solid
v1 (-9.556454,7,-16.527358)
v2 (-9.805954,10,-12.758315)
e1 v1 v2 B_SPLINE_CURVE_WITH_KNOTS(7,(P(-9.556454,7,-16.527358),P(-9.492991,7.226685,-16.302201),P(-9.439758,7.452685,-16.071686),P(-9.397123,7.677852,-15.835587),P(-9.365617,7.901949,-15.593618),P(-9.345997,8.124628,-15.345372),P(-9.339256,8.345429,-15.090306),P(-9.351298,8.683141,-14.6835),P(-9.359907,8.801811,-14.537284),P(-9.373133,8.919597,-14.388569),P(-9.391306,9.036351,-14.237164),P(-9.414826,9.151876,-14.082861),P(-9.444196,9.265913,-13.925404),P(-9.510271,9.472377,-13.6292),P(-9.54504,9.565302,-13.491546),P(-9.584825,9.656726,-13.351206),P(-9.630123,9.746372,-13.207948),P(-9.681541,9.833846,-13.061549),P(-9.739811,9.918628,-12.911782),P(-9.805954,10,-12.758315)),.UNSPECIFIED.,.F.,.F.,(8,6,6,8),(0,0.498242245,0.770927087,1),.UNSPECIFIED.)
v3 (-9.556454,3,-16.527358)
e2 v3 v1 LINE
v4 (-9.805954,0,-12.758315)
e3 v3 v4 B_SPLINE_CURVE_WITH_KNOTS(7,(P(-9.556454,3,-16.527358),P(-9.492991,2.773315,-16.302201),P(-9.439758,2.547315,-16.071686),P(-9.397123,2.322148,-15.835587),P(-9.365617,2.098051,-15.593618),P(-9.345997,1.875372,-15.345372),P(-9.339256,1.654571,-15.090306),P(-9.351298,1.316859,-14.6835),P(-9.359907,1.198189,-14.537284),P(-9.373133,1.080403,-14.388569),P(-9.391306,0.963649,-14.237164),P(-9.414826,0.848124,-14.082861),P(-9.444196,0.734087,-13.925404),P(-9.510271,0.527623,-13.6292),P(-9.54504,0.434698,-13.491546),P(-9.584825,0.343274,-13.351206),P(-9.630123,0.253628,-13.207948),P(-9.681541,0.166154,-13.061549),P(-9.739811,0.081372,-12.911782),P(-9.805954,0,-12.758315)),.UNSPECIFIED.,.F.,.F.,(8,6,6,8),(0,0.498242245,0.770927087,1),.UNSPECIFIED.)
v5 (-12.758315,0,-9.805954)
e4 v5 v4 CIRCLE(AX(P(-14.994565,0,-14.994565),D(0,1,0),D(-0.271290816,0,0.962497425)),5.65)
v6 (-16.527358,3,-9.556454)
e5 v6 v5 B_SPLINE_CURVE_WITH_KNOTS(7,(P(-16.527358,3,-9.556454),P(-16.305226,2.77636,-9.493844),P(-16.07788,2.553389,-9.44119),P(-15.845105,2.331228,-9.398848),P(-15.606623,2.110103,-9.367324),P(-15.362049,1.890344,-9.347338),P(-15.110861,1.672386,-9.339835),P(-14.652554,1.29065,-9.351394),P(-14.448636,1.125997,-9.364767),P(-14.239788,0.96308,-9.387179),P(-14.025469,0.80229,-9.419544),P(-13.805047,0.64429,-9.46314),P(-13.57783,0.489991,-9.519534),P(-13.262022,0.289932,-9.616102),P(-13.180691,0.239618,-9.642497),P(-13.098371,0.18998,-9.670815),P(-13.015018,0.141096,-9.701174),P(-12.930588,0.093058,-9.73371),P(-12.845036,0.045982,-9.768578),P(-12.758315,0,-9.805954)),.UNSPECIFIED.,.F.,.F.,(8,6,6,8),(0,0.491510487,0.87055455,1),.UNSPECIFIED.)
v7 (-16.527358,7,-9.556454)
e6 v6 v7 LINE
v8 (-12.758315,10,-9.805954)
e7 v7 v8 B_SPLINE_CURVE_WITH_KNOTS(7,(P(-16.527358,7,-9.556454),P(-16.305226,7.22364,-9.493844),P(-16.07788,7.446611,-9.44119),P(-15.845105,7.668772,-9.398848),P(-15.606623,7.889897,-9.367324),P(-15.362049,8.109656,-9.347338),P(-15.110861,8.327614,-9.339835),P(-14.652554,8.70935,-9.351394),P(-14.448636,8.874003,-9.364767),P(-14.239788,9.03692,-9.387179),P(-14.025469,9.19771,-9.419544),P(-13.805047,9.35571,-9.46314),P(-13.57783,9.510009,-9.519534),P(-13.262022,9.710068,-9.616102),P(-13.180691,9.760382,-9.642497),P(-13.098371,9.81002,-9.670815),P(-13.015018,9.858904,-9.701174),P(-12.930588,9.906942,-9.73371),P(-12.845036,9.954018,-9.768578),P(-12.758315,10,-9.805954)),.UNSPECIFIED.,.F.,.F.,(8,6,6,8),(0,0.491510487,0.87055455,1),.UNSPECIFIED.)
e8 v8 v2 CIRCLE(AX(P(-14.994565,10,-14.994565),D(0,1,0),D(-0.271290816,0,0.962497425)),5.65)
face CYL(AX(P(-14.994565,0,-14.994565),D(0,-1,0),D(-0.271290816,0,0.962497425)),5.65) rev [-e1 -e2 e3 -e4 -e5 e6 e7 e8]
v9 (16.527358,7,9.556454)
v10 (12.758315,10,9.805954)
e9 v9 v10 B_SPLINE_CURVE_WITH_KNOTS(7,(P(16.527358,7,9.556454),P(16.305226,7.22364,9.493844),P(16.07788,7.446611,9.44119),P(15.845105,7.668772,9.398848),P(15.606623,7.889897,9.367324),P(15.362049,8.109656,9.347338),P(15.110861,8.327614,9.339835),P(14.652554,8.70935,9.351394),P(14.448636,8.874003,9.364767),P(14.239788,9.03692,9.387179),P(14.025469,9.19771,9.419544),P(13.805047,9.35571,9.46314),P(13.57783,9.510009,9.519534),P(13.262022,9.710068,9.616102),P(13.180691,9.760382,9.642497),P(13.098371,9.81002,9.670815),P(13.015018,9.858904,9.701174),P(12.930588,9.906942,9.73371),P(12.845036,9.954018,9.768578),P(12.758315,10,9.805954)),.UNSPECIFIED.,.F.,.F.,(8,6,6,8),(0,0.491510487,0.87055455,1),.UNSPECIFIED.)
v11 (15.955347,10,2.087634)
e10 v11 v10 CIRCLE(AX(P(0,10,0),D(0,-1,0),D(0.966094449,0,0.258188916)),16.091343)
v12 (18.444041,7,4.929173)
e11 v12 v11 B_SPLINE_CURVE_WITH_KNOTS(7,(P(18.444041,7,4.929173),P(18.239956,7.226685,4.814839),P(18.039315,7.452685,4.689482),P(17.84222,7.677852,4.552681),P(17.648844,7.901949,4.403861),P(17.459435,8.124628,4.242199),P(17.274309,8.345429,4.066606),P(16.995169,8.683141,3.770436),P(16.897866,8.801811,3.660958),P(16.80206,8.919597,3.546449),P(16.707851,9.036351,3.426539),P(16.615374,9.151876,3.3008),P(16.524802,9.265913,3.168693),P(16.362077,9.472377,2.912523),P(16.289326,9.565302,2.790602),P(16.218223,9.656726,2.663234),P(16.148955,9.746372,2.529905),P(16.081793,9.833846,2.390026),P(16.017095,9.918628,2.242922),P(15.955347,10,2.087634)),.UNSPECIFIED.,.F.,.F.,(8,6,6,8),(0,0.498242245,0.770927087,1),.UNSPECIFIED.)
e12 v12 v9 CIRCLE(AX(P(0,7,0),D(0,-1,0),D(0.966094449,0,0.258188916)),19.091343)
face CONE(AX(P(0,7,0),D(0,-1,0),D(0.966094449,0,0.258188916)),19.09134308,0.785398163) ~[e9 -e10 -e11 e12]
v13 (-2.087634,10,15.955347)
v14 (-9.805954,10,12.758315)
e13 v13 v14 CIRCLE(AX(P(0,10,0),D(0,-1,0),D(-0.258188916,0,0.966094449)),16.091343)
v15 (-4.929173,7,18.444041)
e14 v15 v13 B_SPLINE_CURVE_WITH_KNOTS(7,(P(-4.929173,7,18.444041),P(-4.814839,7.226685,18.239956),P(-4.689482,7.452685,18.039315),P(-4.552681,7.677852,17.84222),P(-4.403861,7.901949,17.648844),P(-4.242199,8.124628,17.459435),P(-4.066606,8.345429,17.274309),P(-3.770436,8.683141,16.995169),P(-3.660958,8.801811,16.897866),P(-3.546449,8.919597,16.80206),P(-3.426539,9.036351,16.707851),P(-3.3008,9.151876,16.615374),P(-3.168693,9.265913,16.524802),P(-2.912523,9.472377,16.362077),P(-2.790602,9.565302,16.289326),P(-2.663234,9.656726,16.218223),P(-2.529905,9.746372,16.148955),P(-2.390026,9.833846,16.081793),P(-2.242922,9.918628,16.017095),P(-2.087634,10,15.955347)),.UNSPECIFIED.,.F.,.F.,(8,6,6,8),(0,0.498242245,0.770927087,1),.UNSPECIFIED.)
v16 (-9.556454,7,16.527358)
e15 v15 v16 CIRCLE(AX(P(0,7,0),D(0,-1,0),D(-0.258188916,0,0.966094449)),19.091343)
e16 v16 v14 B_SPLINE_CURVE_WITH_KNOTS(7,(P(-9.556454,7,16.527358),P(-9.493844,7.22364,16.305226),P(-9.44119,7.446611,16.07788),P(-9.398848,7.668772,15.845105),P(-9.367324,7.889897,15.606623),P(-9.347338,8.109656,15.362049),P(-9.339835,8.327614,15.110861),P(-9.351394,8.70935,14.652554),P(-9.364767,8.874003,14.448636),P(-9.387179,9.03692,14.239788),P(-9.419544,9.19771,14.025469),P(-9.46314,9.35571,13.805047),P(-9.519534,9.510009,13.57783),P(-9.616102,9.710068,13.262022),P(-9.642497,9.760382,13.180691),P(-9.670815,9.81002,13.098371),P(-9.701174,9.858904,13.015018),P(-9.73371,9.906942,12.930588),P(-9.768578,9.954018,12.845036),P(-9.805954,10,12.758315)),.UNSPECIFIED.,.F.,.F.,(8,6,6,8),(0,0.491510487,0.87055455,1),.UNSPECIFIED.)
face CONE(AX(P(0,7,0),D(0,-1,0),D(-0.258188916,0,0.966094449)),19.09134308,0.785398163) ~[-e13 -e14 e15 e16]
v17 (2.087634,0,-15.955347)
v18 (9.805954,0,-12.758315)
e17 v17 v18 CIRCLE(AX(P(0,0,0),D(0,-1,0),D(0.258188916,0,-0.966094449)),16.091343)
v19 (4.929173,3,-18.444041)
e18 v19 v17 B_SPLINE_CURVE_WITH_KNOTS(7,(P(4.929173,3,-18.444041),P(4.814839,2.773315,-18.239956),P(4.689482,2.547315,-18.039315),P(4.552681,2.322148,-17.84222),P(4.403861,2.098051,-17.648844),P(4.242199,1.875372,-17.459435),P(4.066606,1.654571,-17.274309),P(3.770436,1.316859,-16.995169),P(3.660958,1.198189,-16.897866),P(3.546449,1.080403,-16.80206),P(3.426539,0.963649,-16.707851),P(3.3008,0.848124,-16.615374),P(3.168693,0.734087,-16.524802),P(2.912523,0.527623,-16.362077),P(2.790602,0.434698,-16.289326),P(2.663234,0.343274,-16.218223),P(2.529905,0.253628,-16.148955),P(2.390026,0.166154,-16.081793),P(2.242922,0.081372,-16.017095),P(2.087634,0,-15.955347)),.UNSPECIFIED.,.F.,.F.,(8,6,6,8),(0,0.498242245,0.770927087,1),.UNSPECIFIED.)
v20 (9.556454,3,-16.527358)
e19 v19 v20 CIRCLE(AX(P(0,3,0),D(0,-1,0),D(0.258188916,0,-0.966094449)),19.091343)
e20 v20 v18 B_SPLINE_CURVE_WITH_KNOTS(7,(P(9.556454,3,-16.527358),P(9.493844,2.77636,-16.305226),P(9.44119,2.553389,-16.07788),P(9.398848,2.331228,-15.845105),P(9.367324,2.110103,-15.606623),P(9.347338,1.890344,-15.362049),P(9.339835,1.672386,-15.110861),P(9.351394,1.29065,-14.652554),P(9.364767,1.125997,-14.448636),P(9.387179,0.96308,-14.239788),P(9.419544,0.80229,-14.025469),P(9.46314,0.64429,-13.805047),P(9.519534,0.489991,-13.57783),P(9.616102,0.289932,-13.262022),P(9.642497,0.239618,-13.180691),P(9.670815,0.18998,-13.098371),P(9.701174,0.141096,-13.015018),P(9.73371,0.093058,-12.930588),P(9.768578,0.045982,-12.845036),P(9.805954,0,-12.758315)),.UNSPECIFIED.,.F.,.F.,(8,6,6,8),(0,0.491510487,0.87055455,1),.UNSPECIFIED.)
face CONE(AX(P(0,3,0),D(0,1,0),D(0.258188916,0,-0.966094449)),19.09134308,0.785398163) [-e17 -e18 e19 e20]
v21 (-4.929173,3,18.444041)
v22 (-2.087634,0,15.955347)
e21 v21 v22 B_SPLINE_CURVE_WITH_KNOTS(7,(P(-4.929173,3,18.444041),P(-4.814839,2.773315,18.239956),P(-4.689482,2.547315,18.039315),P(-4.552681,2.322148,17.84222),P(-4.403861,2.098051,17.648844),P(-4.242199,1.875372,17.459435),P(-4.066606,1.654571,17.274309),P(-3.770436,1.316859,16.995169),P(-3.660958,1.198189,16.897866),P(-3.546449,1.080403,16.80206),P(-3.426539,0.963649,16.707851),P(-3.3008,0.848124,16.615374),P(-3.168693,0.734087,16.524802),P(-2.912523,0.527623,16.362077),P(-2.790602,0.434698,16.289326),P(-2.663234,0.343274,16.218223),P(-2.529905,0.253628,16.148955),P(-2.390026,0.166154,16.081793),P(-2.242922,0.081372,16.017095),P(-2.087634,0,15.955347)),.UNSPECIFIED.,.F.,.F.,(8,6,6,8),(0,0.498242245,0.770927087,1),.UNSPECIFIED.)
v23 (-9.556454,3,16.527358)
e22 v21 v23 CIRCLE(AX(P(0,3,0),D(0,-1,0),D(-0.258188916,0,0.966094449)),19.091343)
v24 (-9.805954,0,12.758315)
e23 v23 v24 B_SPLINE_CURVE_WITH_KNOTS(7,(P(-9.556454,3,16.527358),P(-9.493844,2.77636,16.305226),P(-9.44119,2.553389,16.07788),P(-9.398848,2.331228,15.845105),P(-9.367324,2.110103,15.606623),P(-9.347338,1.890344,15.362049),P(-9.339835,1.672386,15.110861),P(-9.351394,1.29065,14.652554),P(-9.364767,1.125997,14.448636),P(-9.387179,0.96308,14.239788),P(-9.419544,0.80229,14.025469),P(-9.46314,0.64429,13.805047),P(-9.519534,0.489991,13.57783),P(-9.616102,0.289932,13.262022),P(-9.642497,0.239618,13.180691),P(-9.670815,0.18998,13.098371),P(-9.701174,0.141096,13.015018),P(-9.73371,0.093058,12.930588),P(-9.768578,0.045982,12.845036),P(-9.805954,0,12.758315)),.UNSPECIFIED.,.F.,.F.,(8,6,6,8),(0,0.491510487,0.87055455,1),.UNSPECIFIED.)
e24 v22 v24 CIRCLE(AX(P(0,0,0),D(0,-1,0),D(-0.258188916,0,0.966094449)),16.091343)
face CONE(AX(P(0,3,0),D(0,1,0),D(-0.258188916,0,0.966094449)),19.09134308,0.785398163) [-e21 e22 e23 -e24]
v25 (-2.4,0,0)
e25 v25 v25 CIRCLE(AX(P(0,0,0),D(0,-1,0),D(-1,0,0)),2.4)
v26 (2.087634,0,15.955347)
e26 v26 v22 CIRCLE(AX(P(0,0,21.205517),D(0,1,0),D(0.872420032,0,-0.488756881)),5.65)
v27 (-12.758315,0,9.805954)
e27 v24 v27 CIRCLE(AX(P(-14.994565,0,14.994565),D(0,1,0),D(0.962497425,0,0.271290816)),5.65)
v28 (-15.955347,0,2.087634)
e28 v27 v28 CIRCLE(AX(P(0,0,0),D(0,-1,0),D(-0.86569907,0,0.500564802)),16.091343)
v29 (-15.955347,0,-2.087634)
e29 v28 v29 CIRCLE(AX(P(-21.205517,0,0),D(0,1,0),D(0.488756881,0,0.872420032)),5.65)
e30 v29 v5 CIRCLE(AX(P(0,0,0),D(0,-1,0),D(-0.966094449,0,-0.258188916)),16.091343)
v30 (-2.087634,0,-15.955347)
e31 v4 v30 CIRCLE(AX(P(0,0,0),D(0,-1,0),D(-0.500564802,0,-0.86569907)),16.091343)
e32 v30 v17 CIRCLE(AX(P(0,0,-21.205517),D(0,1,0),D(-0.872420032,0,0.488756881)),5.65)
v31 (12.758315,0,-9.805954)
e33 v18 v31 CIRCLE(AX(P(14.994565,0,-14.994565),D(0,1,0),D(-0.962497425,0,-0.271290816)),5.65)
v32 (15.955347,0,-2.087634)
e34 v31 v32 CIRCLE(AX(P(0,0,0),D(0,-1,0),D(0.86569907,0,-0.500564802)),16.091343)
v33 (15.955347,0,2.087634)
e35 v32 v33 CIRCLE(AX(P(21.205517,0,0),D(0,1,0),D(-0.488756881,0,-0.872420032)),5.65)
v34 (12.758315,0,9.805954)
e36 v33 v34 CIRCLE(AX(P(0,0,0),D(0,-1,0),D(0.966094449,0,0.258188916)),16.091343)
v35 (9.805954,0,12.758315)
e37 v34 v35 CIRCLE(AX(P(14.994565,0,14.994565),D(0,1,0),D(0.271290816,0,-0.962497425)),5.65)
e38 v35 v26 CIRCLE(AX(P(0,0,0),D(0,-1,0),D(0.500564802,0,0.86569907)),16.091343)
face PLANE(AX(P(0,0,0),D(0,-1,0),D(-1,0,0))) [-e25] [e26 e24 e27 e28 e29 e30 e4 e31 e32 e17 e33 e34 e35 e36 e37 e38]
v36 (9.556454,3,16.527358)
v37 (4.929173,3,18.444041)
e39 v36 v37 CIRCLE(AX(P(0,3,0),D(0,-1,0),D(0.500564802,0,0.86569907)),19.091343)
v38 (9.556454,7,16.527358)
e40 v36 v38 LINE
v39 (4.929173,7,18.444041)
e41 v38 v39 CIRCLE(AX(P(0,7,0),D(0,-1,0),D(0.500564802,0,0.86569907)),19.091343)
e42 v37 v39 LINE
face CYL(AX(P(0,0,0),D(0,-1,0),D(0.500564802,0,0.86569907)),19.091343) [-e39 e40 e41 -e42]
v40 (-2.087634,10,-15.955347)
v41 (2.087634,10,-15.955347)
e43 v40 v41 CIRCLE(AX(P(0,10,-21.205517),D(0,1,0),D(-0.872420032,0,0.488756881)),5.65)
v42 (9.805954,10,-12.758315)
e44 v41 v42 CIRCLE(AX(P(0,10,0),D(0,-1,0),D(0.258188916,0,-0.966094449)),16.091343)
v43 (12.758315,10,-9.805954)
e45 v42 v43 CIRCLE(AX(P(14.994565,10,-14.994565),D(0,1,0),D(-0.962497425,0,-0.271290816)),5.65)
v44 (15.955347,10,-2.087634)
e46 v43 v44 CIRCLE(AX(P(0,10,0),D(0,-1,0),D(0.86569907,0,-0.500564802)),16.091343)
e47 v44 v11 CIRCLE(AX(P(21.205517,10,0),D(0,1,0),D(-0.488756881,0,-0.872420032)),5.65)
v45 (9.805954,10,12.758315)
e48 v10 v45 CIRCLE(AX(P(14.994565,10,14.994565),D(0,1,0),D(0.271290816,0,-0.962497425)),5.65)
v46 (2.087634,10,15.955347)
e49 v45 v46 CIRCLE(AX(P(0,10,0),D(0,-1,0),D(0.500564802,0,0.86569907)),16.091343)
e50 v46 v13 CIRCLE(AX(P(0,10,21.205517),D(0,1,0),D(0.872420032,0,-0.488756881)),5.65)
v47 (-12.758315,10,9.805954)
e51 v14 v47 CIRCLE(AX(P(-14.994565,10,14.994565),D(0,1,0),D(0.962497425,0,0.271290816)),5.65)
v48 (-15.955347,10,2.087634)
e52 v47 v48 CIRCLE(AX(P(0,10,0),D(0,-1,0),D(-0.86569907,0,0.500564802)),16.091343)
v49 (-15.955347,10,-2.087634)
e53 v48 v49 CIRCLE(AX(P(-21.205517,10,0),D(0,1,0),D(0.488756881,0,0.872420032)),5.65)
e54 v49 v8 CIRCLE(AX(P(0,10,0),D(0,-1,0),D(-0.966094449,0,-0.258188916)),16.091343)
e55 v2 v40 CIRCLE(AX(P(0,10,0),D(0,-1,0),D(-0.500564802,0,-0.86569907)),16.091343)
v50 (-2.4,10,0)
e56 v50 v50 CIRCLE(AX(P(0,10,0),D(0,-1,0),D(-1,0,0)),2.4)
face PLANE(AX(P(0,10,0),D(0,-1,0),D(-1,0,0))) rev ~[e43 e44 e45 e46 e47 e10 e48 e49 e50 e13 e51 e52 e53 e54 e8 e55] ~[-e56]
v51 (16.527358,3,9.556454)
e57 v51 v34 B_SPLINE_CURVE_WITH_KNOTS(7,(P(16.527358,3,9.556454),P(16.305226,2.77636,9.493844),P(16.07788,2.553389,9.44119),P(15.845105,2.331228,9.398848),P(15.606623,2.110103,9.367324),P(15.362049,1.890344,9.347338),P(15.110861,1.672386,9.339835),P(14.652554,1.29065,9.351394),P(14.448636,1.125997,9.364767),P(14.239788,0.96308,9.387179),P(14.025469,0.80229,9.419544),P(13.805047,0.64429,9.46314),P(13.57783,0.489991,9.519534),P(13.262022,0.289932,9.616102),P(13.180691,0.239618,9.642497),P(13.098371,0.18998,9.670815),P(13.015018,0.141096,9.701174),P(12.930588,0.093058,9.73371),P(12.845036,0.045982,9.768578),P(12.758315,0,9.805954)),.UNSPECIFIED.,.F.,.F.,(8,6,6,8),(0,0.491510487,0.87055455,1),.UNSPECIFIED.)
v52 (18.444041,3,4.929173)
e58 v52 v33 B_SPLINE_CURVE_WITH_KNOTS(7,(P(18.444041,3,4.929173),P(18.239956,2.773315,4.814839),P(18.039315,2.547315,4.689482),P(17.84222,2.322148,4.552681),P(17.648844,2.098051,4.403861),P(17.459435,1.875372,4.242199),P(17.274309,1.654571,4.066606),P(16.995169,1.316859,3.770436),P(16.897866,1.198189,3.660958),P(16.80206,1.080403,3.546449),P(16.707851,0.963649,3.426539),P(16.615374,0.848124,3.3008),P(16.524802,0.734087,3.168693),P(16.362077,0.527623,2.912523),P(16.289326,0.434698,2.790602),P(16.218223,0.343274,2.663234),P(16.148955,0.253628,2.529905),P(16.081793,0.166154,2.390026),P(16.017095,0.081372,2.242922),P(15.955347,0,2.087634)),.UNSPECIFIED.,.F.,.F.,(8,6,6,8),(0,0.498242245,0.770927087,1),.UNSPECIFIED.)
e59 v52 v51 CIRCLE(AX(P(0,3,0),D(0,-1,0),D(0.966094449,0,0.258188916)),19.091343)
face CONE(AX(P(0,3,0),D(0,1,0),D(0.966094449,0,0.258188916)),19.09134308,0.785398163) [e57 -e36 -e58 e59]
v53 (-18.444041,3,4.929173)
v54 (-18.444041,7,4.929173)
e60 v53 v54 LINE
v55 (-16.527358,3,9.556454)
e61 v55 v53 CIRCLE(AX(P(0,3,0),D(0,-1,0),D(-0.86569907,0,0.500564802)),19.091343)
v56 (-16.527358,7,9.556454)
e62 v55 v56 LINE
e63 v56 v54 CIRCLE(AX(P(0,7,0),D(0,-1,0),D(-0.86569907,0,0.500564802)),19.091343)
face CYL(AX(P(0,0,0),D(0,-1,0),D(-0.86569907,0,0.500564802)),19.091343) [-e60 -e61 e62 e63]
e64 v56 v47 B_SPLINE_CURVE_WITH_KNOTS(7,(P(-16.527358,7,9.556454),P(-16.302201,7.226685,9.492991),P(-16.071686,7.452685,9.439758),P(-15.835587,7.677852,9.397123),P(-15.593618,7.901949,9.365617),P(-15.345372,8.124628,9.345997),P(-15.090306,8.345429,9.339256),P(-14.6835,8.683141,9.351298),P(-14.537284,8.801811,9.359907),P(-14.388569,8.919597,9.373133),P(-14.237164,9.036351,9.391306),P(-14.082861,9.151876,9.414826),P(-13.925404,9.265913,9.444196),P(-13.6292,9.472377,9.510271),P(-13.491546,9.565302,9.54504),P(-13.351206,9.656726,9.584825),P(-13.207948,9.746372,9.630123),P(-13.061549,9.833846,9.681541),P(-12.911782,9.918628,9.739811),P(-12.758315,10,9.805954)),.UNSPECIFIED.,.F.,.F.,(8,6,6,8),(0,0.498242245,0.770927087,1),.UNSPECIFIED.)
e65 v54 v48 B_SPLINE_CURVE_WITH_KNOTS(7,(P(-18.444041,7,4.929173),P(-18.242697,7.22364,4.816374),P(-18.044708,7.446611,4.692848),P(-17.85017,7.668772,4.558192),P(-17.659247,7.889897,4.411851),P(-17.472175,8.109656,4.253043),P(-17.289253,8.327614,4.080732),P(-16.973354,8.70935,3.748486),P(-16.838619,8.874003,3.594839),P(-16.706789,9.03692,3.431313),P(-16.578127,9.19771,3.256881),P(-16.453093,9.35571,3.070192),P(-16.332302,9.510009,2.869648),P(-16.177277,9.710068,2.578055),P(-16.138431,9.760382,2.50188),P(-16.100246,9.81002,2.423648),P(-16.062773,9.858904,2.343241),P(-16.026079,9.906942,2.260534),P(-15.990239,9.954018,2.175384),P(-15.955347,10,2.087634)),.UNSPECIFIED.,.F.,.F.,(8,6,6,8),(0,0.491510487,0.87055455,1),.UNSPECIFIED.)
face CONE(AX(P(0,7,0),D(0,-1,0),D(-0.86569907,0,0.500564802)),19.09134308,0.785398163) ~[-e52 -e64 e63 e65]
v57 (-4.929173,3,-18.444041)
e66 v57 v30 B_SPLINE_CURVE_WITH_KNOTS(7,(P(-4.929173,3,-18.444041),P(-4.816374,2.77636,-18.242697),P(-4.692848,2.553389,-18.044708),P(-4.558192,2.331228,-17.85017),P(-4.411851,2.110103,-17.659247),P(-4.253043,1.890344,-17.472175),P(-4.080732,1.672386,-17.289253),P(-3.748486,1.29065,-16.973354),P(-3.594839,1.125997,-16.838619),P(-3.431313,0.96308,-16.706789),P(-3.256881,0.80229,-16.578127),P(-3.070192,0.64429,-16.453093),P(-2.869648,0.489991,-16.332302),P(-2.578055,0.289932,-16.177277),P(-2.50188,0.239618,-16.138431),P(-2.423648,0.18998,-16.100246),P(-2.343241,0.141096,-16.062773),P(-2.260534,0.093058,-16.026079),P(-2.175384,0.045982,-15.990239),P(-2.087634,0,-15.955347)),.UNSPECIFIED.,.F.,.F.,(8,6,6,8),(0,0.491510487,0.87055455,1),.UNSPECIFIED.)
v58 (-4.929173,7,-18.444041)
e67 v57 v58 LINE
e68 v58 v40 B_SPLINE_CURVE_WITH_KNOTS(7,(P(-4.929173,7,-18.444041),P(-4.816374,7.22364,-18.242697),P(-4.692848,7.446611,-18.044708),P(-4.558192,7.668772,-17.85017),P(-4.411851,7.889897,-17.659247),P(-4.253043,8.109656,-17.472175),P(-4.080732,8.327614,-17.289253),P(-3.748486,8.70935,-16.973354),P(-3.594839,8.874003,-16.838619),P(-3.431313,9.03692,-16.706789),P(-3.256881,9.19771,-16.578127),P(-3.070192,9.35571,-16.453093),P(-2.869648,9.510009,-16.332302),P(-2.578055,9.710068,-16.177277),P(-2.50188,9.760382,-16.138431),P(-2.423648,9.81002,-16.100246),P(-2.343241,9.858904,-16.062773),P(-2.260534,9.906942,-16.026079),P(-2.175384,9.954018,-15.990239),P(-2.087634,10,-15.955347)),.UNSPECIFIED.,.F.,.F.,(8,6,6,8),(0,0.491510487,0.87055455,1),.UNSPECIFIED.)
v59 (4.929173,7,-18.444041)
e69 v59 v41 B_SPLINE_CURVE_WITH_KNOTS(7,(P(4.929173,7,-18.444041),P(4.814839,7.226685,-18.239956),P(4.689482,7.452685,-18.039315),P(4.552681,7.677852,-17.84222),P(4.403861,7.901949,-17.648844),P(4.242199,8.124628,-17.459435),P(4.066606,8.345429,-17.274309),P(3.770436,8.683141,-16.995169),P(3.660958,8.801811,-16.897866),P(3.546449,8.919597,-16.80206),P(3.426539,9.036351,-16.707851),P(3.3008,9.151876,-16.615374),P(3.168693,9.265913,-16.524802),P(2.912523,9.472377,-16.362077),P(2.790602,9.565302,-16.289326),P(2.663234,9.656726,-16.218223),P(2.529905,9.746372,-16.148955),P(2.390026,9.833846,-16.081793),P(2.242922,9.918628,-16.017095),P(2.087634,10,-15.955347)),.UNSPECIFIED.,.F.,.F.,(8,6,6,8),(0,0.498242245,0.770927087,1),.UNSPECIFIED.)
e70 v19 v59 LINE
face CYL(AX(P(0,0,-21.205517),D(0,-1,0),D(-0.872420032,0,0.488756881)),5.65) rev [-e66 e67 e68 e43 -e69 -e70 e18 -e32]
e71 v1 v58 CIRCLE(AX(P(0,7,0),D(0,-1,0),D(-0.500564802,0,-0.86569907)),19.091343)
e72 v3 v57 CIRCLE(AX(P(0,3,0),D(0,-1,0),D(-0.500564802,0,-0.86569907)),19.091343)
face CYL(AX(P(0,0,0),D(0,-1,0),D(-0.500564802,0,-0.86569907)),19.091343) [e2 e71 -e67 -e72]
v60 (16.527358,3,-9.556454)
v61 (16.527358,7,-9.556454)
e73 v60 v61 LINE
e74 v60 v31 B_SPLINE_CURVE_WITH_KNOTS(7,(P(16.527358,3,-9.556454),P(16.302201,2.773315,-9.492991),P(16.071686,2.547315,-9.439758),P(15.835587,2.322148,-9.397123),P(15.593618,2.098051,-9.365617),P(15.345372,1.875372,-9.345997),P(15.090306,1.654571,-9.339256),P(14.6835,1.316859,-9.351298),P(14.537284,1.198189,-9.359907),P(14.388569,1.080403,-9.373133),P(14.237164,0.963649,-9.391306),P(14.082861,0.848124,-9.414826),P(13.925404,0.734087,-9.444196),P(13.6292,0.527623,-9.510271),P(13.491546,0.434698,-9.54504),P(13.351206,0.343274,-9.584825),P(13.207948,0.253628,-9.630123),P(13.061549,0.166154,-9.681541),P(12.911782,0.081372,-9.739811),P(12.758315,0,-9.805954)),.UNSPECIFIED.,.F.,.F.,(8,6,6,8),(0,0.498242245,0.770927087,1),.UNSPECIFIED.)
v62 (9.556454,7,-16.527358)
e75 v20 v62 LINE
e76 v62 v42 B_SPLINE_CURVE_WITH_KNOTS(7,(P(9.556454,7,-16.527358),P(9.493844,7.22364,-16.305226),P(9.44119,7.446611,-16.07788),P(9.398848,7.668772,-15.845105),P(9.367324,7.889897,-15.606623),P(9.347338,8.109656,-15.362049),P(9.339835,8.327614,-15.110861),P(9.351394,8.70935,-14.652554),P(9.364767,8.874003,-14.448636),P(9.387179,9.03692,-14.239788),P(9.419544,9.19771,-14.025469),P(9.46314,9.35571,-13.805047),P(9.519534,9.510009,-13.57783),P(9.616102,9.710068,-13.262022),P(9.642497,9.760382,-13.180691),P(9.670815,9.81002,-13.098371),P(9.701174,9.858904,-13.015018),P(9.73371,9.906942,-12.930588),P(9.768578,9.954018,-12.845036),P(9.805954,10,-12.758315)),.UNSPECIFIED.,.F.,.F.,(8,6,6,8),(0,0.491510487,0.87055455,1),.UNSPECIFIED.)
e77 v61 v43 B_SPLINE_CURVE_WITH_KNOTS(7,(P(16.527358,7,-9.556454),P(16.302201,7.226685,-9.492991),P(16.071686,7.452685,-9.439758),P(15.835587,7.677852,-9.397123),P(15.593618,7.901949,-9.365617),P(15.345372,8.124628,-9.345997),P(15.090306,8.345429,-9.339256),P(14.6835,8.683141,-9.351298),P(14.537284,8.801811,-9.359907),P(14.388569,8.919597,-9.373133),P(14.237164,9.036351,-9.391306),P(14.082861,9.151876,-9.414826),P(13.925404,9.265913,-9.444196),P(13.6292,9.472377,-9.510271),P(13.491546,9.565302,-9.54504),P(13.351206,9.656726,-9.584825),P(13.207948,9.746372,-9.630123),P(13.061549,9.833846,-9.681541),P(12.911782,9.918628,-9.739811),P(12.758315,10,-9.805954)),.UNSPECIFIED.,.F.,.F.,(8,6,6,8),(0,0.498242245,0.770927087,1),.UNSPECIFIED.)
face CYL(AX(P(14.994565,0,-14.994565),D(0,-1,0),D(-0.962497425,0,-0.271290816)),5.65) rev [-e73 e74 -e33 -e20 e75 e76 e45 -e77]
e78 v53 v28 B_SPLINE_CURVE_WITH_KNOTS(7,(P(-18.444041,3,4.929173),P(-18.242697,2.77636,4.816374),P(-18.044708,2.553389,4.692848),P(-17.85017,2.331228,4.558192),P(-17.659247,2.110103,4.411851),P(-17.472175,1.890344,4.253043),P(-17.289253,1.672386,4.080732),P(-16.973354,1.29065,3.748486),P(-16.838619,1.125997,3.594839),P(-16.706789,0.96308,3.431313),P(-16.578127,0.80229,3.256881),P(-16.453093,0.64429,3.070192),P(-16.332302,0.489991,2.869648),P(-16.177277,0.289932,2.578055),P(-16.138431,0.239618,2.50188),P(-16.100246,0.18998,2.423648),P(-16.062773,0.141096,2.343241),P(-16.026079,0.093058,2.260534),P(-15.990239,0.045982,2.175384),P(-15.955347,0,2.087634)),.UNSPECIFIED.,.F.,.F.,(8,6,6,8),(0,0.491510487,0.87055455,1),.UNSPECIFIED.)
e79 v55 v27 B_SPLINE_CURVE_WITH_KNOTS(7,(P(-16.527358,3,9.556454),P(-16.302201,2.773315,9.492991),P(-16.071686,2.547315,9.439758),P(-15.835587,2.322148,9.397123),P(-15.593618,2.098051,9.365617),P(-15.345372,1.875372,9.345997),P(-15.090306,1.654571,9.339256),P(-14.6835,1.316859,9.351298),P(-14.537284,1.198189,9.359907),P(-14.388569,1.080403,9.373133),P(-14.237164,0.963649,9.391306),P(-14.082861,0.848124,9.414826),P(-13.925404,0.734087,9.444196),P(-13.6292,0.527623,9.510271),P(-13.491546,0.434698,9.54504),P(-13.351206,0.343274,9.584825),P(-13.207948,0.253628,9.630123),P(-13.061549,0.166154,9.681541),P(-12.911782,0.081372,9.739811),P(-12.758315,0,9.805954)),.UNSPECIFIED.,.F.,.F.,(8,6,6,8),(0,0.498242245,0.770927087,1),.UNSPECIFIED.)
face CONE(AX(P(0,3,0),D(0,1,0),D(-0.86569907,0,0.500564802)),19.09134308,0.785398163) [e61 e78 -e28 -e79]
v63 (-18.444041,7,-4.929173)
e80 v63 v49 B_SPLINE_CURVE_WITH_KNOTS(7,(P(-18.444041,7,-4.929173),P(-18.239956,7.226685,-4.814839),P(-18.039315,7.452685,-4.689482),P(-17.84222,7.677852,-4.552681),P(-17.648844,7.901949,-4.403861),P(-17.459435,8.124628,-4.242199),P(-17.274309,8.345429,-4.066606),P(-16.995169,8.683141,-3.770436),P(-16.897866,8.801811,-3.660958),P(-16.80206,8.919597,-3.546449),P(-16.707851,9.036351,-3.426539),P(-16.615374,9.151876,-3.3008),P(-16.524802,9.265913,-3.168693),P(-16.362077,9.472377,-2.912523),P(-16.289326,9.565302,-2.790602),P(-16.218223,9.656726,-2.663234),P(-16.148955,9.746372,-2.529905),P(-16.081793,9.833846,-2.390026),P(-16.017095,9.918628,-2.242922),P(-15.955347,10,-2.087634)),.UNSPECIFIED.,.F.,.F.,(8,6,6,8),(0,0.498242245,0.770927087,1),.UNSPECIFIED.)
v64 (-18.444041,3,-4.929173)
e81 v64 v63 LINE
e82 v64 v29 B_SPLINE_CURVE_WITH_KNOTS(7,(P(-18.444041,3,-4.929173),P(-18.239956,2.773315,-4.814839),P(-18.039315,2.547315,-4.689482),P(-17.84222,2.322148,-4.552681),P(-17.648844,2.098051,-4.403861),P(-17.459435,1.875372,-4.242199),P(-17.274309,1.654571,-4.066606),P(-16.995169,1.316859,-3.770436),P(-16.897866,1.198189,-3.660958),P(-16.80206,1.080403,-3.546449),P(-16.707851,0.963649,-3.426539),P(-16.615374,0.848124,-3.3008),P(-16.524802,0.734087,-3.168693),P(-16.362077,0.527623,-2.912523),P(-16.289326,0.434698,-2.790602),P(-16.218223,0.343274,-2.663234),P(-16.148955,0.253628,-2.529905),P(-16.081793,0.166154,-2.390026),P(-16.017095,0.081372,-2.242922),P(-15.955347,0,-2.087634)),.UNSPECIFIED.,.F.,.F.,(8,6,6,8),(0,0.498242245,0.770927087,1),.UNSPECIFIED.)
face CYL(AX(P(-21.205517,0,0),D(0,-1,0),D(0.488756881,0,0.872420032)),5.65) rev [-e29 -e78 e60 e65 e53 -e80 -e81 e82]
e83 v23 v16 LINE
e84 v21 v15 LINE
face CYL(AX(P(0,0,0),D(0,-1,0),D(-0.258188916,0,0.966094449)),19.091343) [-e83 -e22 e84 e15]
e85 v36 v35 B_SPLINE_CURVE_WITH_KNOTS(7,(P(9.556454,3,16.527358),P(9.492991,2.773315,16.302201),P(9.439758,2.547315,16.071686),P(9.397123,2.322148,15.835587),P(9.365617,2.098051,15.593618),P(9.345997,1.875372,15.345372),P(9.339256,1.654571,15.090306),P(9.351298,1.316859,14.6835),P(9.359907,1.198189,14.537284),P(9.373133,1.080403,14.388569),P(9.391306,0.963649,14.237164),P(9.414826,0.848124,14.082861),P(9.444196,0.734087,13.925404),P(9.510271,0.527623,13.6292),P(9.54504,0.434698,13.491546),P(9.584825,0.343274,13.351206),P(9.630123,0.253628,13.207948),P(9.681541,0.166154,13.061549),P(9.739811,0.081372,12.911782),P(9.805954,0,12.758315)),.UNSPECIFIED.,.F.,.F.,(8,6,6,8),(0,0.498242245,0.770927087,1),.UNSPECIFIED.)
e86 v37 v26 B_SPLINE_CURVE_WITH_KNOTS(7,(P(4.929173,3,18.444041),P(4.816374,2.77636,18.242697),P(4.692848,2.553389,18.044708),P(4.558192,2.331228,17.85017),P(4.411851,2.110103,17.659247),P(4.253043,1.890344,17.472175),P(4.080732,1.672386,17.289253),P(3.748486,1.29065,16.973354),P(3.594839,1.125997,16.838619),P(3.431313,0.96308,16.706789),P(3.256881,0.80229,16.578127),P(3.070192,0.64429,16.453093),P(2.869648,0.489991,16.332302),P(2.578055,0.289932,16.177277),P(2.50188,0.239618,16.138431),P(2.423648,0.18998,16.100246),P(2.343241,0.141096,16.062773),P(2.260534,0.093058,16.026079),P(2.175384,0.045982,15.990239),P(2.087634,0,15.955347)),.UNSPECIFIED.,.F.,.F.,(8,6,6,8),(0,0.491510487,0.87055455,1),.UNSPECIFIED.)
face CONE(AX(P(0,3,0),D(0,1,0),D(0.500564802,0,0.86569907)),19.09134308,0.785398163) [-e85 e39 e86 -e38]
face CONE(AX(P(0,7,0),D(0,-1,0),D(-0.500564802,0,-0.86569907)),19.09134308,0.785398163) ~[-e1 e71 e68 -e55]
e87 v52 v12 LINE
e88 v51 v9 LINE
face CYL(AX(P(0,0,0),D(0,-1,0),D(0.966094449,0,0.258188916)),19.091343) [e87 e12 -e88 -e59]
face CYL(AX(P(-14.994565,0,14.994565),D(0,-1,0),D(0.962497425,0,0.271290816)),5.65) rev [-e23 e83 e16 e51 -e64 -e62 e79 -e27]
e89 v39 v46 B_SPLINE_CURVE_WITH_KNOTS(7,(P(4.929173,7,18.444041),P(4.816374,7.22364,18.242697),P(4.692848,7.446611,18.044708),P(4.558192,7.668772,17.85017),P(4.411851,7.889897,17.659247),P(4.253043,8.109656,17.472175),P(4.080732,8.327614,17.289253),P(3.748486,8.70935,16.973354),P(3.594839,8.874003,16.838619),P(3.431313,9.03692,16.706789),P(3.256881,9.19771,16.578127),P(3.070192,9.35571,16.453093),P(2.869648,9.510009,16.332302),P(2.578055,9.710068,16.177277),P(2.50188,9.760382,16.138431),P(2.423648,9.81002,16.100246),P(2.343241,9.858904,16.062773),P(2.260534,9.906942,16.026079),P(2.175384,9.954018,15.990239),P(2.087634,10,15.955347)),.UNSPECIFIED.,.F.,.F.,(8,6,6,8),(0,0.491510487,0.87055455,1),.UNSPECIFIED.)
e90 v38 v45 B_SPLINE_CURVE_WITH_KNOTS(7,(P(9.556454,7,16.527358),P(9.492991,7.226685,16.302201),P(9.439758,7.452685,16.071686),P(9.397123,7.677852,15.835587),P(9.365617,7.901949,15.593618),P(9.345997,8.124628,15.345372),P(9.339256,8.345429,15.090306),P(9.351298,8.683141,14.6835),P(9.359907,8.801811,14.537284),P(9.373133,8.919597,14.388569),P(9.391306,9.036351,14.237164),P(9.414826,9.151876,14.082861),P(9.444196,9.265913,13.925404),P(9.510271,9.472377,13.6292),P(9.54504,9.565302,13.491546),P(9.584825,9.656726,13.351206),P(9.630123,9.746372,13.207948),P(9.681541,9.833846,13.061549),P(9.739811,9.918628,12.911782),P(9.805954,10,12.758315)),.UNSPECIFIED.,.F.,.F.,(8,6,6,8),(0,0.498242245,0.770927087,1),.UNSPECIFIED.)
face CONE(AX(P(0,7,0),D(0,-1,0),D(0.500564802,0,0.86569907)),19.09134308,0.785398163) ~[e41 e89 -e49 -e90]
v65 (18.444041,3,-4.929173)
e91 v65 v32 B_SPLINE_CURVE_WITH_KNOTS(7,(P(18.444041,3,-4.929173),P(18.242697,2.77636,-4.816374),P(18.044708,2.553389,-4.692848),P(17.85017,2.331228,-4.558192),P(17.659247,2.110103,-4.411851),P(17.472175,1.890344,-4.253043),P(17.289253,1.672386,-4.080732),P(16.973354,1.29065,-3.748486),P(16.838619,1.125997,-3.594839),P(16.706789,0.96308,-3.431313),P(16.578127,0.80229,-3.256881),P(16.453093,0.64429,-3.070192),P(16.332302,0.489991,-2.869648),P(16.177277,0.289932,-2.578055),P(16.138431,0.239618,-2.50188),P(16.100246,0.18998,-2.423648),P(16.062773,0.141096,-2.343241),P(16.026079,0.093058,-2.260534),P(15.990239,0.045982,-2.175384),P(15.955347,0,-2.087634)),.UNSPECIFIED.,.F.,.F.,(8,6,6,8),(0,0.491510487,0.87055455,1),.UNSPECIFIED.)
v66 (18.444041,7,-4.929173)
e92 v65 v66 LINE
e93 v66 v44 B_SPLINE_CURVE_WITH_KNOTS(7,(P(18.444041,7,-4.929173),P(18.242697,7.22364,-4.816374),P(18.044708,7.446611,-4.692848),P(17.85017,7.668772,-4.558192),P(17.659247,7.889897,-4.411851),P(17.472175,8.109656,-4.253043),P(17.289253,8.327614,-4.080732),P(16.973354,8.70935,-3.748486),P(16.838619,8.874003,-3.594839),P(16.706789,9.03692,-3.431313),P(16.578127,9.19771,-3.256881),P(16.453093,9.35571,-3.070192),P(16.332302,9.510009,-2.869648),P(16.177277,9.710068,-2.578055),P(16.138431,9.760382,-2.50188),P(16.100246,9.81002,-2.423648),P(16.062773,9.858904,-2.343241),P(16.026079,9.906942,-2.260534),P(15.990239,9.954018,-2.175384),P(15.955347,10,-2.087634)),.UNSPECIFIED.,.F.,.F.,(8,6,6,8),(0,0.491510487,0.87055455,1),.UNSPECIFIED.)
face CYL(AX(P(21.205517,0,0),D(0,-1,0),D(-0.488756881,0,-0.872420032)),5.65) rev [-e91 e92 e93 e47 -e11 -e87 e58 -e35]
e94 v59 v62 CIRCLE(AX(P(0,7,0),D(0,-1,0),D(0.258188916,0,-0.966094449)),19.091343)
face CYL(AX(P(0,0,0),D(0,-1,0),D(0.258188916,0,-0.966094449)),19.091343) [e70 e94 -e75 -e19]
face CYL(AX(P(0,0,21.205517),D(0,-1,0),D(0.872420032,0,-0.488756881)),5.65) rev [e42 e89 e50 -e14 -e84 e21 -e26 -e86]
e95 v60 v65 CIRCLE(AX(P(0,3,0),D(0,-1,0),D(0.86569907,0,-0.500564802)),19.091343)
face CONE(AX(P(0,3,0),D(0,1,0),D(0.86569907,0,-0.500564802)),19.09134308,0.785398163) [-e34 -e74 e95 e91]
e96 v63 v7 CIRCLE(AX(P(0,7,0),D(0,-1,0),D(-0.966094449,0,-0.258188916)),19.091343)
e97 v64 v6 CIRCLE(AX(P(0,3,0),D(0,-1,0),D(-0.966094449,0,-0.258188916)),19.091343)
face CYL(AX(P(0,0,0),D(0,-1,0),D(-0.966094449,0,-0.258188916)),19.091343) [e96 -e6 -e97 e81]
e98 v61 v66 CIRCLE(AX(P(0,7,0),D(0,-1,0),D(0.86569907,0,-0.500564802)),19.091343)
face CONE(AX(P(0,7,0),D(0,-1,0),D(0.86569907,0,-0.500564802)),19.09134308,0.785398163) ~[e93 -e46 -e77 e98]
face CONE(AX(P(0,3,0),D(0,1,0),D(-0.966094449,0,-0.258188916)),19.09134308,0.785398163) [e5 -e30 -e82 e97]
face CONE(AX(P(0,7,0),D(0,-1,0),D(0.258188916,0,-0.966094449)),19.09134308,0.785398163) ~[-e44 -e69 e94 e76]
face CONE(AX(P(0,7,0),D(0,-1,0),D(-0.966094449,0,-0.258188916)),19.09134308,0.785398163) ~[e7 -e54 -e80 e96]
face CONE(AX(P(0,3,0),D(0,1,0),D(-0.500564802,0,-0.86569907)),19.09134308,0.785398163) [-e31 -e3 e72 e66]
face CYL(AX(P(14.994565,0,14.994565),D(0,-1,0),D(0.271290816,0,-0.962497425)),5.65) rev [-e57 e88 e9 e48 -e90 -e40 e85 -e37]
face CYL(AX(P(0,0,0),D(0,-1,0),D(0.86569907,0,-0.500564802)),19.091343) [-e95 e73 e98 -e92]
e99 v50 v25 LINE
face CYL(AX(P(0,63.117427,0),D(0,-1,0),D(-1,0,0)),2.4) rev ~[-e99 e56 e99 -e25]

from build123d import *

# Parameters (mm, degrees)
BOSS_EXTRUDE1_DEPTH  = 10
CHAMFER1_SIZE        = 3
M4_CLEARANCE_HOLE1_D = 4.8


with BuildPart() as part:
    # Sketch1 → Boss-Extrude1 (new body)
    with BuildSketch(Plane(origin=(0, 0, 0), x_dir=(1, 0, 0), z_dir=(0, 1, 0))):
        with BuildLine():
            ThreePointArc((4.929173178, -18.444040543), (0, -15.55551692), (-4.929173178, -18.444040543))
            ThreePointArc((-4.929173178, -18.444040543), (-7.30594069, -17.6381011), (-9.556454361, -16.527357921))
            ThreePointArc((-9.556454361, -16.527357921), (-10.999411499, -10.999411499), (-16.527357921, -9.556454361))
            ThreePointArc((-16.527357921, -9.556454361), (-17.6381011, -7.30594069), (-18.444040543, -4.929173178))
            ThreePointArc((-18.444040543, -4.929173178), (-15.55551692, 0), (-18.444040543, 4.929173178))
            ThreePointArc((-18.444040543, 4.929173178), (-17.6381011, 7.30594069), (-16.527357921, 9.556454361))
            ThreePointArc((-16.527357921, 9.556454361), (-10.999411499, 10.999411499), (-9.556454361, 16.527357921))
            ThreePointArc((-9.556454361, 16.527357921), (-7.30594069, 17.6381011), (-4.929173178, 18.444040543))
            ThreePointArc((-4.929173178, 18.444040543), (0, 15.55551692), (4.929173178, 18.444040543))
            ThreePointArc((4.929173178, 18.444040543), (7.30594069, 17.6381011), (9.556454361, 16.527357921))
            ThreePointArc((9.556454361, 16.527357921), (10.999411499, 10.999411499), (16.527357921, 9.556454361))
            ThreePointArc((16.527357921, 9.556454361), (17.6381011, 7.30594069), (18.444040543, 4.929173178))
            ThreePointArc((18.444040543, 4.929173178), (15.55551692, 0), (18.444040543, -4.929173178))
            ThreePointArc((18.444040543, -4.929173178), (17.6381011, -7.30594069), (16.527357921, -9.556454361))
            ThreePointArc((16.527357921, -9.556454361), (10.999411499, -10.999411499), (9.556454361, -16.527357921))
            ThreePointArc((9.556454361, -16.527357921), (7.30594069, -17.6381011), (4.929173178, -18.444040543))
        make_face()
    extrude(amount=BOSS_EXTRUDE1_DEPTH)

    # Chamfer1
    chamfer1_edges = [part.edges().sort_by_distance(p)[0] for p in [
        (7.30594069, 10, -17.6381011),
        (17.6381011, 0, 7.30594069),
        (7.30594069, 0, 17.6381011),
        (-7.30594069, 0, 17.6381011),
        (-17.6381011, 0, 7.30594069),
        (-17.6381011, 0, -7.30594069),
        (-7.30594069, 0, -17.6381011),
        (-7.30594069, 10, -17.6381011),
        (7.30594069, 0, -17.6381011),
        (17.6381011, 0, -7.30594069),
        (-17.6381011, 10, -7.30594069),
        (-17.6381011, 10, 7.30594069),
        (-7.30594069, 10, 17.6381011),
        (17.6381011, 10, -7.30594069),
        (7.30594069, 10, 17.6381011),
        (17.6381011, 10, 7.30594069),
    ]]
    chamfer(chamfer1_edges, length=CHAMFER1_SIZE)

    # M4 Clearance Hole1 (through all)
    with Locations(Plane(origin=(0, 10, 0), x_dir=(1, 0, 0), z_dir=(0, 1, 0))):
        with Locations((0, 0)):
            Hole(M4_CLEARANCE_HOLE1_D / 2)


solid = part.part
